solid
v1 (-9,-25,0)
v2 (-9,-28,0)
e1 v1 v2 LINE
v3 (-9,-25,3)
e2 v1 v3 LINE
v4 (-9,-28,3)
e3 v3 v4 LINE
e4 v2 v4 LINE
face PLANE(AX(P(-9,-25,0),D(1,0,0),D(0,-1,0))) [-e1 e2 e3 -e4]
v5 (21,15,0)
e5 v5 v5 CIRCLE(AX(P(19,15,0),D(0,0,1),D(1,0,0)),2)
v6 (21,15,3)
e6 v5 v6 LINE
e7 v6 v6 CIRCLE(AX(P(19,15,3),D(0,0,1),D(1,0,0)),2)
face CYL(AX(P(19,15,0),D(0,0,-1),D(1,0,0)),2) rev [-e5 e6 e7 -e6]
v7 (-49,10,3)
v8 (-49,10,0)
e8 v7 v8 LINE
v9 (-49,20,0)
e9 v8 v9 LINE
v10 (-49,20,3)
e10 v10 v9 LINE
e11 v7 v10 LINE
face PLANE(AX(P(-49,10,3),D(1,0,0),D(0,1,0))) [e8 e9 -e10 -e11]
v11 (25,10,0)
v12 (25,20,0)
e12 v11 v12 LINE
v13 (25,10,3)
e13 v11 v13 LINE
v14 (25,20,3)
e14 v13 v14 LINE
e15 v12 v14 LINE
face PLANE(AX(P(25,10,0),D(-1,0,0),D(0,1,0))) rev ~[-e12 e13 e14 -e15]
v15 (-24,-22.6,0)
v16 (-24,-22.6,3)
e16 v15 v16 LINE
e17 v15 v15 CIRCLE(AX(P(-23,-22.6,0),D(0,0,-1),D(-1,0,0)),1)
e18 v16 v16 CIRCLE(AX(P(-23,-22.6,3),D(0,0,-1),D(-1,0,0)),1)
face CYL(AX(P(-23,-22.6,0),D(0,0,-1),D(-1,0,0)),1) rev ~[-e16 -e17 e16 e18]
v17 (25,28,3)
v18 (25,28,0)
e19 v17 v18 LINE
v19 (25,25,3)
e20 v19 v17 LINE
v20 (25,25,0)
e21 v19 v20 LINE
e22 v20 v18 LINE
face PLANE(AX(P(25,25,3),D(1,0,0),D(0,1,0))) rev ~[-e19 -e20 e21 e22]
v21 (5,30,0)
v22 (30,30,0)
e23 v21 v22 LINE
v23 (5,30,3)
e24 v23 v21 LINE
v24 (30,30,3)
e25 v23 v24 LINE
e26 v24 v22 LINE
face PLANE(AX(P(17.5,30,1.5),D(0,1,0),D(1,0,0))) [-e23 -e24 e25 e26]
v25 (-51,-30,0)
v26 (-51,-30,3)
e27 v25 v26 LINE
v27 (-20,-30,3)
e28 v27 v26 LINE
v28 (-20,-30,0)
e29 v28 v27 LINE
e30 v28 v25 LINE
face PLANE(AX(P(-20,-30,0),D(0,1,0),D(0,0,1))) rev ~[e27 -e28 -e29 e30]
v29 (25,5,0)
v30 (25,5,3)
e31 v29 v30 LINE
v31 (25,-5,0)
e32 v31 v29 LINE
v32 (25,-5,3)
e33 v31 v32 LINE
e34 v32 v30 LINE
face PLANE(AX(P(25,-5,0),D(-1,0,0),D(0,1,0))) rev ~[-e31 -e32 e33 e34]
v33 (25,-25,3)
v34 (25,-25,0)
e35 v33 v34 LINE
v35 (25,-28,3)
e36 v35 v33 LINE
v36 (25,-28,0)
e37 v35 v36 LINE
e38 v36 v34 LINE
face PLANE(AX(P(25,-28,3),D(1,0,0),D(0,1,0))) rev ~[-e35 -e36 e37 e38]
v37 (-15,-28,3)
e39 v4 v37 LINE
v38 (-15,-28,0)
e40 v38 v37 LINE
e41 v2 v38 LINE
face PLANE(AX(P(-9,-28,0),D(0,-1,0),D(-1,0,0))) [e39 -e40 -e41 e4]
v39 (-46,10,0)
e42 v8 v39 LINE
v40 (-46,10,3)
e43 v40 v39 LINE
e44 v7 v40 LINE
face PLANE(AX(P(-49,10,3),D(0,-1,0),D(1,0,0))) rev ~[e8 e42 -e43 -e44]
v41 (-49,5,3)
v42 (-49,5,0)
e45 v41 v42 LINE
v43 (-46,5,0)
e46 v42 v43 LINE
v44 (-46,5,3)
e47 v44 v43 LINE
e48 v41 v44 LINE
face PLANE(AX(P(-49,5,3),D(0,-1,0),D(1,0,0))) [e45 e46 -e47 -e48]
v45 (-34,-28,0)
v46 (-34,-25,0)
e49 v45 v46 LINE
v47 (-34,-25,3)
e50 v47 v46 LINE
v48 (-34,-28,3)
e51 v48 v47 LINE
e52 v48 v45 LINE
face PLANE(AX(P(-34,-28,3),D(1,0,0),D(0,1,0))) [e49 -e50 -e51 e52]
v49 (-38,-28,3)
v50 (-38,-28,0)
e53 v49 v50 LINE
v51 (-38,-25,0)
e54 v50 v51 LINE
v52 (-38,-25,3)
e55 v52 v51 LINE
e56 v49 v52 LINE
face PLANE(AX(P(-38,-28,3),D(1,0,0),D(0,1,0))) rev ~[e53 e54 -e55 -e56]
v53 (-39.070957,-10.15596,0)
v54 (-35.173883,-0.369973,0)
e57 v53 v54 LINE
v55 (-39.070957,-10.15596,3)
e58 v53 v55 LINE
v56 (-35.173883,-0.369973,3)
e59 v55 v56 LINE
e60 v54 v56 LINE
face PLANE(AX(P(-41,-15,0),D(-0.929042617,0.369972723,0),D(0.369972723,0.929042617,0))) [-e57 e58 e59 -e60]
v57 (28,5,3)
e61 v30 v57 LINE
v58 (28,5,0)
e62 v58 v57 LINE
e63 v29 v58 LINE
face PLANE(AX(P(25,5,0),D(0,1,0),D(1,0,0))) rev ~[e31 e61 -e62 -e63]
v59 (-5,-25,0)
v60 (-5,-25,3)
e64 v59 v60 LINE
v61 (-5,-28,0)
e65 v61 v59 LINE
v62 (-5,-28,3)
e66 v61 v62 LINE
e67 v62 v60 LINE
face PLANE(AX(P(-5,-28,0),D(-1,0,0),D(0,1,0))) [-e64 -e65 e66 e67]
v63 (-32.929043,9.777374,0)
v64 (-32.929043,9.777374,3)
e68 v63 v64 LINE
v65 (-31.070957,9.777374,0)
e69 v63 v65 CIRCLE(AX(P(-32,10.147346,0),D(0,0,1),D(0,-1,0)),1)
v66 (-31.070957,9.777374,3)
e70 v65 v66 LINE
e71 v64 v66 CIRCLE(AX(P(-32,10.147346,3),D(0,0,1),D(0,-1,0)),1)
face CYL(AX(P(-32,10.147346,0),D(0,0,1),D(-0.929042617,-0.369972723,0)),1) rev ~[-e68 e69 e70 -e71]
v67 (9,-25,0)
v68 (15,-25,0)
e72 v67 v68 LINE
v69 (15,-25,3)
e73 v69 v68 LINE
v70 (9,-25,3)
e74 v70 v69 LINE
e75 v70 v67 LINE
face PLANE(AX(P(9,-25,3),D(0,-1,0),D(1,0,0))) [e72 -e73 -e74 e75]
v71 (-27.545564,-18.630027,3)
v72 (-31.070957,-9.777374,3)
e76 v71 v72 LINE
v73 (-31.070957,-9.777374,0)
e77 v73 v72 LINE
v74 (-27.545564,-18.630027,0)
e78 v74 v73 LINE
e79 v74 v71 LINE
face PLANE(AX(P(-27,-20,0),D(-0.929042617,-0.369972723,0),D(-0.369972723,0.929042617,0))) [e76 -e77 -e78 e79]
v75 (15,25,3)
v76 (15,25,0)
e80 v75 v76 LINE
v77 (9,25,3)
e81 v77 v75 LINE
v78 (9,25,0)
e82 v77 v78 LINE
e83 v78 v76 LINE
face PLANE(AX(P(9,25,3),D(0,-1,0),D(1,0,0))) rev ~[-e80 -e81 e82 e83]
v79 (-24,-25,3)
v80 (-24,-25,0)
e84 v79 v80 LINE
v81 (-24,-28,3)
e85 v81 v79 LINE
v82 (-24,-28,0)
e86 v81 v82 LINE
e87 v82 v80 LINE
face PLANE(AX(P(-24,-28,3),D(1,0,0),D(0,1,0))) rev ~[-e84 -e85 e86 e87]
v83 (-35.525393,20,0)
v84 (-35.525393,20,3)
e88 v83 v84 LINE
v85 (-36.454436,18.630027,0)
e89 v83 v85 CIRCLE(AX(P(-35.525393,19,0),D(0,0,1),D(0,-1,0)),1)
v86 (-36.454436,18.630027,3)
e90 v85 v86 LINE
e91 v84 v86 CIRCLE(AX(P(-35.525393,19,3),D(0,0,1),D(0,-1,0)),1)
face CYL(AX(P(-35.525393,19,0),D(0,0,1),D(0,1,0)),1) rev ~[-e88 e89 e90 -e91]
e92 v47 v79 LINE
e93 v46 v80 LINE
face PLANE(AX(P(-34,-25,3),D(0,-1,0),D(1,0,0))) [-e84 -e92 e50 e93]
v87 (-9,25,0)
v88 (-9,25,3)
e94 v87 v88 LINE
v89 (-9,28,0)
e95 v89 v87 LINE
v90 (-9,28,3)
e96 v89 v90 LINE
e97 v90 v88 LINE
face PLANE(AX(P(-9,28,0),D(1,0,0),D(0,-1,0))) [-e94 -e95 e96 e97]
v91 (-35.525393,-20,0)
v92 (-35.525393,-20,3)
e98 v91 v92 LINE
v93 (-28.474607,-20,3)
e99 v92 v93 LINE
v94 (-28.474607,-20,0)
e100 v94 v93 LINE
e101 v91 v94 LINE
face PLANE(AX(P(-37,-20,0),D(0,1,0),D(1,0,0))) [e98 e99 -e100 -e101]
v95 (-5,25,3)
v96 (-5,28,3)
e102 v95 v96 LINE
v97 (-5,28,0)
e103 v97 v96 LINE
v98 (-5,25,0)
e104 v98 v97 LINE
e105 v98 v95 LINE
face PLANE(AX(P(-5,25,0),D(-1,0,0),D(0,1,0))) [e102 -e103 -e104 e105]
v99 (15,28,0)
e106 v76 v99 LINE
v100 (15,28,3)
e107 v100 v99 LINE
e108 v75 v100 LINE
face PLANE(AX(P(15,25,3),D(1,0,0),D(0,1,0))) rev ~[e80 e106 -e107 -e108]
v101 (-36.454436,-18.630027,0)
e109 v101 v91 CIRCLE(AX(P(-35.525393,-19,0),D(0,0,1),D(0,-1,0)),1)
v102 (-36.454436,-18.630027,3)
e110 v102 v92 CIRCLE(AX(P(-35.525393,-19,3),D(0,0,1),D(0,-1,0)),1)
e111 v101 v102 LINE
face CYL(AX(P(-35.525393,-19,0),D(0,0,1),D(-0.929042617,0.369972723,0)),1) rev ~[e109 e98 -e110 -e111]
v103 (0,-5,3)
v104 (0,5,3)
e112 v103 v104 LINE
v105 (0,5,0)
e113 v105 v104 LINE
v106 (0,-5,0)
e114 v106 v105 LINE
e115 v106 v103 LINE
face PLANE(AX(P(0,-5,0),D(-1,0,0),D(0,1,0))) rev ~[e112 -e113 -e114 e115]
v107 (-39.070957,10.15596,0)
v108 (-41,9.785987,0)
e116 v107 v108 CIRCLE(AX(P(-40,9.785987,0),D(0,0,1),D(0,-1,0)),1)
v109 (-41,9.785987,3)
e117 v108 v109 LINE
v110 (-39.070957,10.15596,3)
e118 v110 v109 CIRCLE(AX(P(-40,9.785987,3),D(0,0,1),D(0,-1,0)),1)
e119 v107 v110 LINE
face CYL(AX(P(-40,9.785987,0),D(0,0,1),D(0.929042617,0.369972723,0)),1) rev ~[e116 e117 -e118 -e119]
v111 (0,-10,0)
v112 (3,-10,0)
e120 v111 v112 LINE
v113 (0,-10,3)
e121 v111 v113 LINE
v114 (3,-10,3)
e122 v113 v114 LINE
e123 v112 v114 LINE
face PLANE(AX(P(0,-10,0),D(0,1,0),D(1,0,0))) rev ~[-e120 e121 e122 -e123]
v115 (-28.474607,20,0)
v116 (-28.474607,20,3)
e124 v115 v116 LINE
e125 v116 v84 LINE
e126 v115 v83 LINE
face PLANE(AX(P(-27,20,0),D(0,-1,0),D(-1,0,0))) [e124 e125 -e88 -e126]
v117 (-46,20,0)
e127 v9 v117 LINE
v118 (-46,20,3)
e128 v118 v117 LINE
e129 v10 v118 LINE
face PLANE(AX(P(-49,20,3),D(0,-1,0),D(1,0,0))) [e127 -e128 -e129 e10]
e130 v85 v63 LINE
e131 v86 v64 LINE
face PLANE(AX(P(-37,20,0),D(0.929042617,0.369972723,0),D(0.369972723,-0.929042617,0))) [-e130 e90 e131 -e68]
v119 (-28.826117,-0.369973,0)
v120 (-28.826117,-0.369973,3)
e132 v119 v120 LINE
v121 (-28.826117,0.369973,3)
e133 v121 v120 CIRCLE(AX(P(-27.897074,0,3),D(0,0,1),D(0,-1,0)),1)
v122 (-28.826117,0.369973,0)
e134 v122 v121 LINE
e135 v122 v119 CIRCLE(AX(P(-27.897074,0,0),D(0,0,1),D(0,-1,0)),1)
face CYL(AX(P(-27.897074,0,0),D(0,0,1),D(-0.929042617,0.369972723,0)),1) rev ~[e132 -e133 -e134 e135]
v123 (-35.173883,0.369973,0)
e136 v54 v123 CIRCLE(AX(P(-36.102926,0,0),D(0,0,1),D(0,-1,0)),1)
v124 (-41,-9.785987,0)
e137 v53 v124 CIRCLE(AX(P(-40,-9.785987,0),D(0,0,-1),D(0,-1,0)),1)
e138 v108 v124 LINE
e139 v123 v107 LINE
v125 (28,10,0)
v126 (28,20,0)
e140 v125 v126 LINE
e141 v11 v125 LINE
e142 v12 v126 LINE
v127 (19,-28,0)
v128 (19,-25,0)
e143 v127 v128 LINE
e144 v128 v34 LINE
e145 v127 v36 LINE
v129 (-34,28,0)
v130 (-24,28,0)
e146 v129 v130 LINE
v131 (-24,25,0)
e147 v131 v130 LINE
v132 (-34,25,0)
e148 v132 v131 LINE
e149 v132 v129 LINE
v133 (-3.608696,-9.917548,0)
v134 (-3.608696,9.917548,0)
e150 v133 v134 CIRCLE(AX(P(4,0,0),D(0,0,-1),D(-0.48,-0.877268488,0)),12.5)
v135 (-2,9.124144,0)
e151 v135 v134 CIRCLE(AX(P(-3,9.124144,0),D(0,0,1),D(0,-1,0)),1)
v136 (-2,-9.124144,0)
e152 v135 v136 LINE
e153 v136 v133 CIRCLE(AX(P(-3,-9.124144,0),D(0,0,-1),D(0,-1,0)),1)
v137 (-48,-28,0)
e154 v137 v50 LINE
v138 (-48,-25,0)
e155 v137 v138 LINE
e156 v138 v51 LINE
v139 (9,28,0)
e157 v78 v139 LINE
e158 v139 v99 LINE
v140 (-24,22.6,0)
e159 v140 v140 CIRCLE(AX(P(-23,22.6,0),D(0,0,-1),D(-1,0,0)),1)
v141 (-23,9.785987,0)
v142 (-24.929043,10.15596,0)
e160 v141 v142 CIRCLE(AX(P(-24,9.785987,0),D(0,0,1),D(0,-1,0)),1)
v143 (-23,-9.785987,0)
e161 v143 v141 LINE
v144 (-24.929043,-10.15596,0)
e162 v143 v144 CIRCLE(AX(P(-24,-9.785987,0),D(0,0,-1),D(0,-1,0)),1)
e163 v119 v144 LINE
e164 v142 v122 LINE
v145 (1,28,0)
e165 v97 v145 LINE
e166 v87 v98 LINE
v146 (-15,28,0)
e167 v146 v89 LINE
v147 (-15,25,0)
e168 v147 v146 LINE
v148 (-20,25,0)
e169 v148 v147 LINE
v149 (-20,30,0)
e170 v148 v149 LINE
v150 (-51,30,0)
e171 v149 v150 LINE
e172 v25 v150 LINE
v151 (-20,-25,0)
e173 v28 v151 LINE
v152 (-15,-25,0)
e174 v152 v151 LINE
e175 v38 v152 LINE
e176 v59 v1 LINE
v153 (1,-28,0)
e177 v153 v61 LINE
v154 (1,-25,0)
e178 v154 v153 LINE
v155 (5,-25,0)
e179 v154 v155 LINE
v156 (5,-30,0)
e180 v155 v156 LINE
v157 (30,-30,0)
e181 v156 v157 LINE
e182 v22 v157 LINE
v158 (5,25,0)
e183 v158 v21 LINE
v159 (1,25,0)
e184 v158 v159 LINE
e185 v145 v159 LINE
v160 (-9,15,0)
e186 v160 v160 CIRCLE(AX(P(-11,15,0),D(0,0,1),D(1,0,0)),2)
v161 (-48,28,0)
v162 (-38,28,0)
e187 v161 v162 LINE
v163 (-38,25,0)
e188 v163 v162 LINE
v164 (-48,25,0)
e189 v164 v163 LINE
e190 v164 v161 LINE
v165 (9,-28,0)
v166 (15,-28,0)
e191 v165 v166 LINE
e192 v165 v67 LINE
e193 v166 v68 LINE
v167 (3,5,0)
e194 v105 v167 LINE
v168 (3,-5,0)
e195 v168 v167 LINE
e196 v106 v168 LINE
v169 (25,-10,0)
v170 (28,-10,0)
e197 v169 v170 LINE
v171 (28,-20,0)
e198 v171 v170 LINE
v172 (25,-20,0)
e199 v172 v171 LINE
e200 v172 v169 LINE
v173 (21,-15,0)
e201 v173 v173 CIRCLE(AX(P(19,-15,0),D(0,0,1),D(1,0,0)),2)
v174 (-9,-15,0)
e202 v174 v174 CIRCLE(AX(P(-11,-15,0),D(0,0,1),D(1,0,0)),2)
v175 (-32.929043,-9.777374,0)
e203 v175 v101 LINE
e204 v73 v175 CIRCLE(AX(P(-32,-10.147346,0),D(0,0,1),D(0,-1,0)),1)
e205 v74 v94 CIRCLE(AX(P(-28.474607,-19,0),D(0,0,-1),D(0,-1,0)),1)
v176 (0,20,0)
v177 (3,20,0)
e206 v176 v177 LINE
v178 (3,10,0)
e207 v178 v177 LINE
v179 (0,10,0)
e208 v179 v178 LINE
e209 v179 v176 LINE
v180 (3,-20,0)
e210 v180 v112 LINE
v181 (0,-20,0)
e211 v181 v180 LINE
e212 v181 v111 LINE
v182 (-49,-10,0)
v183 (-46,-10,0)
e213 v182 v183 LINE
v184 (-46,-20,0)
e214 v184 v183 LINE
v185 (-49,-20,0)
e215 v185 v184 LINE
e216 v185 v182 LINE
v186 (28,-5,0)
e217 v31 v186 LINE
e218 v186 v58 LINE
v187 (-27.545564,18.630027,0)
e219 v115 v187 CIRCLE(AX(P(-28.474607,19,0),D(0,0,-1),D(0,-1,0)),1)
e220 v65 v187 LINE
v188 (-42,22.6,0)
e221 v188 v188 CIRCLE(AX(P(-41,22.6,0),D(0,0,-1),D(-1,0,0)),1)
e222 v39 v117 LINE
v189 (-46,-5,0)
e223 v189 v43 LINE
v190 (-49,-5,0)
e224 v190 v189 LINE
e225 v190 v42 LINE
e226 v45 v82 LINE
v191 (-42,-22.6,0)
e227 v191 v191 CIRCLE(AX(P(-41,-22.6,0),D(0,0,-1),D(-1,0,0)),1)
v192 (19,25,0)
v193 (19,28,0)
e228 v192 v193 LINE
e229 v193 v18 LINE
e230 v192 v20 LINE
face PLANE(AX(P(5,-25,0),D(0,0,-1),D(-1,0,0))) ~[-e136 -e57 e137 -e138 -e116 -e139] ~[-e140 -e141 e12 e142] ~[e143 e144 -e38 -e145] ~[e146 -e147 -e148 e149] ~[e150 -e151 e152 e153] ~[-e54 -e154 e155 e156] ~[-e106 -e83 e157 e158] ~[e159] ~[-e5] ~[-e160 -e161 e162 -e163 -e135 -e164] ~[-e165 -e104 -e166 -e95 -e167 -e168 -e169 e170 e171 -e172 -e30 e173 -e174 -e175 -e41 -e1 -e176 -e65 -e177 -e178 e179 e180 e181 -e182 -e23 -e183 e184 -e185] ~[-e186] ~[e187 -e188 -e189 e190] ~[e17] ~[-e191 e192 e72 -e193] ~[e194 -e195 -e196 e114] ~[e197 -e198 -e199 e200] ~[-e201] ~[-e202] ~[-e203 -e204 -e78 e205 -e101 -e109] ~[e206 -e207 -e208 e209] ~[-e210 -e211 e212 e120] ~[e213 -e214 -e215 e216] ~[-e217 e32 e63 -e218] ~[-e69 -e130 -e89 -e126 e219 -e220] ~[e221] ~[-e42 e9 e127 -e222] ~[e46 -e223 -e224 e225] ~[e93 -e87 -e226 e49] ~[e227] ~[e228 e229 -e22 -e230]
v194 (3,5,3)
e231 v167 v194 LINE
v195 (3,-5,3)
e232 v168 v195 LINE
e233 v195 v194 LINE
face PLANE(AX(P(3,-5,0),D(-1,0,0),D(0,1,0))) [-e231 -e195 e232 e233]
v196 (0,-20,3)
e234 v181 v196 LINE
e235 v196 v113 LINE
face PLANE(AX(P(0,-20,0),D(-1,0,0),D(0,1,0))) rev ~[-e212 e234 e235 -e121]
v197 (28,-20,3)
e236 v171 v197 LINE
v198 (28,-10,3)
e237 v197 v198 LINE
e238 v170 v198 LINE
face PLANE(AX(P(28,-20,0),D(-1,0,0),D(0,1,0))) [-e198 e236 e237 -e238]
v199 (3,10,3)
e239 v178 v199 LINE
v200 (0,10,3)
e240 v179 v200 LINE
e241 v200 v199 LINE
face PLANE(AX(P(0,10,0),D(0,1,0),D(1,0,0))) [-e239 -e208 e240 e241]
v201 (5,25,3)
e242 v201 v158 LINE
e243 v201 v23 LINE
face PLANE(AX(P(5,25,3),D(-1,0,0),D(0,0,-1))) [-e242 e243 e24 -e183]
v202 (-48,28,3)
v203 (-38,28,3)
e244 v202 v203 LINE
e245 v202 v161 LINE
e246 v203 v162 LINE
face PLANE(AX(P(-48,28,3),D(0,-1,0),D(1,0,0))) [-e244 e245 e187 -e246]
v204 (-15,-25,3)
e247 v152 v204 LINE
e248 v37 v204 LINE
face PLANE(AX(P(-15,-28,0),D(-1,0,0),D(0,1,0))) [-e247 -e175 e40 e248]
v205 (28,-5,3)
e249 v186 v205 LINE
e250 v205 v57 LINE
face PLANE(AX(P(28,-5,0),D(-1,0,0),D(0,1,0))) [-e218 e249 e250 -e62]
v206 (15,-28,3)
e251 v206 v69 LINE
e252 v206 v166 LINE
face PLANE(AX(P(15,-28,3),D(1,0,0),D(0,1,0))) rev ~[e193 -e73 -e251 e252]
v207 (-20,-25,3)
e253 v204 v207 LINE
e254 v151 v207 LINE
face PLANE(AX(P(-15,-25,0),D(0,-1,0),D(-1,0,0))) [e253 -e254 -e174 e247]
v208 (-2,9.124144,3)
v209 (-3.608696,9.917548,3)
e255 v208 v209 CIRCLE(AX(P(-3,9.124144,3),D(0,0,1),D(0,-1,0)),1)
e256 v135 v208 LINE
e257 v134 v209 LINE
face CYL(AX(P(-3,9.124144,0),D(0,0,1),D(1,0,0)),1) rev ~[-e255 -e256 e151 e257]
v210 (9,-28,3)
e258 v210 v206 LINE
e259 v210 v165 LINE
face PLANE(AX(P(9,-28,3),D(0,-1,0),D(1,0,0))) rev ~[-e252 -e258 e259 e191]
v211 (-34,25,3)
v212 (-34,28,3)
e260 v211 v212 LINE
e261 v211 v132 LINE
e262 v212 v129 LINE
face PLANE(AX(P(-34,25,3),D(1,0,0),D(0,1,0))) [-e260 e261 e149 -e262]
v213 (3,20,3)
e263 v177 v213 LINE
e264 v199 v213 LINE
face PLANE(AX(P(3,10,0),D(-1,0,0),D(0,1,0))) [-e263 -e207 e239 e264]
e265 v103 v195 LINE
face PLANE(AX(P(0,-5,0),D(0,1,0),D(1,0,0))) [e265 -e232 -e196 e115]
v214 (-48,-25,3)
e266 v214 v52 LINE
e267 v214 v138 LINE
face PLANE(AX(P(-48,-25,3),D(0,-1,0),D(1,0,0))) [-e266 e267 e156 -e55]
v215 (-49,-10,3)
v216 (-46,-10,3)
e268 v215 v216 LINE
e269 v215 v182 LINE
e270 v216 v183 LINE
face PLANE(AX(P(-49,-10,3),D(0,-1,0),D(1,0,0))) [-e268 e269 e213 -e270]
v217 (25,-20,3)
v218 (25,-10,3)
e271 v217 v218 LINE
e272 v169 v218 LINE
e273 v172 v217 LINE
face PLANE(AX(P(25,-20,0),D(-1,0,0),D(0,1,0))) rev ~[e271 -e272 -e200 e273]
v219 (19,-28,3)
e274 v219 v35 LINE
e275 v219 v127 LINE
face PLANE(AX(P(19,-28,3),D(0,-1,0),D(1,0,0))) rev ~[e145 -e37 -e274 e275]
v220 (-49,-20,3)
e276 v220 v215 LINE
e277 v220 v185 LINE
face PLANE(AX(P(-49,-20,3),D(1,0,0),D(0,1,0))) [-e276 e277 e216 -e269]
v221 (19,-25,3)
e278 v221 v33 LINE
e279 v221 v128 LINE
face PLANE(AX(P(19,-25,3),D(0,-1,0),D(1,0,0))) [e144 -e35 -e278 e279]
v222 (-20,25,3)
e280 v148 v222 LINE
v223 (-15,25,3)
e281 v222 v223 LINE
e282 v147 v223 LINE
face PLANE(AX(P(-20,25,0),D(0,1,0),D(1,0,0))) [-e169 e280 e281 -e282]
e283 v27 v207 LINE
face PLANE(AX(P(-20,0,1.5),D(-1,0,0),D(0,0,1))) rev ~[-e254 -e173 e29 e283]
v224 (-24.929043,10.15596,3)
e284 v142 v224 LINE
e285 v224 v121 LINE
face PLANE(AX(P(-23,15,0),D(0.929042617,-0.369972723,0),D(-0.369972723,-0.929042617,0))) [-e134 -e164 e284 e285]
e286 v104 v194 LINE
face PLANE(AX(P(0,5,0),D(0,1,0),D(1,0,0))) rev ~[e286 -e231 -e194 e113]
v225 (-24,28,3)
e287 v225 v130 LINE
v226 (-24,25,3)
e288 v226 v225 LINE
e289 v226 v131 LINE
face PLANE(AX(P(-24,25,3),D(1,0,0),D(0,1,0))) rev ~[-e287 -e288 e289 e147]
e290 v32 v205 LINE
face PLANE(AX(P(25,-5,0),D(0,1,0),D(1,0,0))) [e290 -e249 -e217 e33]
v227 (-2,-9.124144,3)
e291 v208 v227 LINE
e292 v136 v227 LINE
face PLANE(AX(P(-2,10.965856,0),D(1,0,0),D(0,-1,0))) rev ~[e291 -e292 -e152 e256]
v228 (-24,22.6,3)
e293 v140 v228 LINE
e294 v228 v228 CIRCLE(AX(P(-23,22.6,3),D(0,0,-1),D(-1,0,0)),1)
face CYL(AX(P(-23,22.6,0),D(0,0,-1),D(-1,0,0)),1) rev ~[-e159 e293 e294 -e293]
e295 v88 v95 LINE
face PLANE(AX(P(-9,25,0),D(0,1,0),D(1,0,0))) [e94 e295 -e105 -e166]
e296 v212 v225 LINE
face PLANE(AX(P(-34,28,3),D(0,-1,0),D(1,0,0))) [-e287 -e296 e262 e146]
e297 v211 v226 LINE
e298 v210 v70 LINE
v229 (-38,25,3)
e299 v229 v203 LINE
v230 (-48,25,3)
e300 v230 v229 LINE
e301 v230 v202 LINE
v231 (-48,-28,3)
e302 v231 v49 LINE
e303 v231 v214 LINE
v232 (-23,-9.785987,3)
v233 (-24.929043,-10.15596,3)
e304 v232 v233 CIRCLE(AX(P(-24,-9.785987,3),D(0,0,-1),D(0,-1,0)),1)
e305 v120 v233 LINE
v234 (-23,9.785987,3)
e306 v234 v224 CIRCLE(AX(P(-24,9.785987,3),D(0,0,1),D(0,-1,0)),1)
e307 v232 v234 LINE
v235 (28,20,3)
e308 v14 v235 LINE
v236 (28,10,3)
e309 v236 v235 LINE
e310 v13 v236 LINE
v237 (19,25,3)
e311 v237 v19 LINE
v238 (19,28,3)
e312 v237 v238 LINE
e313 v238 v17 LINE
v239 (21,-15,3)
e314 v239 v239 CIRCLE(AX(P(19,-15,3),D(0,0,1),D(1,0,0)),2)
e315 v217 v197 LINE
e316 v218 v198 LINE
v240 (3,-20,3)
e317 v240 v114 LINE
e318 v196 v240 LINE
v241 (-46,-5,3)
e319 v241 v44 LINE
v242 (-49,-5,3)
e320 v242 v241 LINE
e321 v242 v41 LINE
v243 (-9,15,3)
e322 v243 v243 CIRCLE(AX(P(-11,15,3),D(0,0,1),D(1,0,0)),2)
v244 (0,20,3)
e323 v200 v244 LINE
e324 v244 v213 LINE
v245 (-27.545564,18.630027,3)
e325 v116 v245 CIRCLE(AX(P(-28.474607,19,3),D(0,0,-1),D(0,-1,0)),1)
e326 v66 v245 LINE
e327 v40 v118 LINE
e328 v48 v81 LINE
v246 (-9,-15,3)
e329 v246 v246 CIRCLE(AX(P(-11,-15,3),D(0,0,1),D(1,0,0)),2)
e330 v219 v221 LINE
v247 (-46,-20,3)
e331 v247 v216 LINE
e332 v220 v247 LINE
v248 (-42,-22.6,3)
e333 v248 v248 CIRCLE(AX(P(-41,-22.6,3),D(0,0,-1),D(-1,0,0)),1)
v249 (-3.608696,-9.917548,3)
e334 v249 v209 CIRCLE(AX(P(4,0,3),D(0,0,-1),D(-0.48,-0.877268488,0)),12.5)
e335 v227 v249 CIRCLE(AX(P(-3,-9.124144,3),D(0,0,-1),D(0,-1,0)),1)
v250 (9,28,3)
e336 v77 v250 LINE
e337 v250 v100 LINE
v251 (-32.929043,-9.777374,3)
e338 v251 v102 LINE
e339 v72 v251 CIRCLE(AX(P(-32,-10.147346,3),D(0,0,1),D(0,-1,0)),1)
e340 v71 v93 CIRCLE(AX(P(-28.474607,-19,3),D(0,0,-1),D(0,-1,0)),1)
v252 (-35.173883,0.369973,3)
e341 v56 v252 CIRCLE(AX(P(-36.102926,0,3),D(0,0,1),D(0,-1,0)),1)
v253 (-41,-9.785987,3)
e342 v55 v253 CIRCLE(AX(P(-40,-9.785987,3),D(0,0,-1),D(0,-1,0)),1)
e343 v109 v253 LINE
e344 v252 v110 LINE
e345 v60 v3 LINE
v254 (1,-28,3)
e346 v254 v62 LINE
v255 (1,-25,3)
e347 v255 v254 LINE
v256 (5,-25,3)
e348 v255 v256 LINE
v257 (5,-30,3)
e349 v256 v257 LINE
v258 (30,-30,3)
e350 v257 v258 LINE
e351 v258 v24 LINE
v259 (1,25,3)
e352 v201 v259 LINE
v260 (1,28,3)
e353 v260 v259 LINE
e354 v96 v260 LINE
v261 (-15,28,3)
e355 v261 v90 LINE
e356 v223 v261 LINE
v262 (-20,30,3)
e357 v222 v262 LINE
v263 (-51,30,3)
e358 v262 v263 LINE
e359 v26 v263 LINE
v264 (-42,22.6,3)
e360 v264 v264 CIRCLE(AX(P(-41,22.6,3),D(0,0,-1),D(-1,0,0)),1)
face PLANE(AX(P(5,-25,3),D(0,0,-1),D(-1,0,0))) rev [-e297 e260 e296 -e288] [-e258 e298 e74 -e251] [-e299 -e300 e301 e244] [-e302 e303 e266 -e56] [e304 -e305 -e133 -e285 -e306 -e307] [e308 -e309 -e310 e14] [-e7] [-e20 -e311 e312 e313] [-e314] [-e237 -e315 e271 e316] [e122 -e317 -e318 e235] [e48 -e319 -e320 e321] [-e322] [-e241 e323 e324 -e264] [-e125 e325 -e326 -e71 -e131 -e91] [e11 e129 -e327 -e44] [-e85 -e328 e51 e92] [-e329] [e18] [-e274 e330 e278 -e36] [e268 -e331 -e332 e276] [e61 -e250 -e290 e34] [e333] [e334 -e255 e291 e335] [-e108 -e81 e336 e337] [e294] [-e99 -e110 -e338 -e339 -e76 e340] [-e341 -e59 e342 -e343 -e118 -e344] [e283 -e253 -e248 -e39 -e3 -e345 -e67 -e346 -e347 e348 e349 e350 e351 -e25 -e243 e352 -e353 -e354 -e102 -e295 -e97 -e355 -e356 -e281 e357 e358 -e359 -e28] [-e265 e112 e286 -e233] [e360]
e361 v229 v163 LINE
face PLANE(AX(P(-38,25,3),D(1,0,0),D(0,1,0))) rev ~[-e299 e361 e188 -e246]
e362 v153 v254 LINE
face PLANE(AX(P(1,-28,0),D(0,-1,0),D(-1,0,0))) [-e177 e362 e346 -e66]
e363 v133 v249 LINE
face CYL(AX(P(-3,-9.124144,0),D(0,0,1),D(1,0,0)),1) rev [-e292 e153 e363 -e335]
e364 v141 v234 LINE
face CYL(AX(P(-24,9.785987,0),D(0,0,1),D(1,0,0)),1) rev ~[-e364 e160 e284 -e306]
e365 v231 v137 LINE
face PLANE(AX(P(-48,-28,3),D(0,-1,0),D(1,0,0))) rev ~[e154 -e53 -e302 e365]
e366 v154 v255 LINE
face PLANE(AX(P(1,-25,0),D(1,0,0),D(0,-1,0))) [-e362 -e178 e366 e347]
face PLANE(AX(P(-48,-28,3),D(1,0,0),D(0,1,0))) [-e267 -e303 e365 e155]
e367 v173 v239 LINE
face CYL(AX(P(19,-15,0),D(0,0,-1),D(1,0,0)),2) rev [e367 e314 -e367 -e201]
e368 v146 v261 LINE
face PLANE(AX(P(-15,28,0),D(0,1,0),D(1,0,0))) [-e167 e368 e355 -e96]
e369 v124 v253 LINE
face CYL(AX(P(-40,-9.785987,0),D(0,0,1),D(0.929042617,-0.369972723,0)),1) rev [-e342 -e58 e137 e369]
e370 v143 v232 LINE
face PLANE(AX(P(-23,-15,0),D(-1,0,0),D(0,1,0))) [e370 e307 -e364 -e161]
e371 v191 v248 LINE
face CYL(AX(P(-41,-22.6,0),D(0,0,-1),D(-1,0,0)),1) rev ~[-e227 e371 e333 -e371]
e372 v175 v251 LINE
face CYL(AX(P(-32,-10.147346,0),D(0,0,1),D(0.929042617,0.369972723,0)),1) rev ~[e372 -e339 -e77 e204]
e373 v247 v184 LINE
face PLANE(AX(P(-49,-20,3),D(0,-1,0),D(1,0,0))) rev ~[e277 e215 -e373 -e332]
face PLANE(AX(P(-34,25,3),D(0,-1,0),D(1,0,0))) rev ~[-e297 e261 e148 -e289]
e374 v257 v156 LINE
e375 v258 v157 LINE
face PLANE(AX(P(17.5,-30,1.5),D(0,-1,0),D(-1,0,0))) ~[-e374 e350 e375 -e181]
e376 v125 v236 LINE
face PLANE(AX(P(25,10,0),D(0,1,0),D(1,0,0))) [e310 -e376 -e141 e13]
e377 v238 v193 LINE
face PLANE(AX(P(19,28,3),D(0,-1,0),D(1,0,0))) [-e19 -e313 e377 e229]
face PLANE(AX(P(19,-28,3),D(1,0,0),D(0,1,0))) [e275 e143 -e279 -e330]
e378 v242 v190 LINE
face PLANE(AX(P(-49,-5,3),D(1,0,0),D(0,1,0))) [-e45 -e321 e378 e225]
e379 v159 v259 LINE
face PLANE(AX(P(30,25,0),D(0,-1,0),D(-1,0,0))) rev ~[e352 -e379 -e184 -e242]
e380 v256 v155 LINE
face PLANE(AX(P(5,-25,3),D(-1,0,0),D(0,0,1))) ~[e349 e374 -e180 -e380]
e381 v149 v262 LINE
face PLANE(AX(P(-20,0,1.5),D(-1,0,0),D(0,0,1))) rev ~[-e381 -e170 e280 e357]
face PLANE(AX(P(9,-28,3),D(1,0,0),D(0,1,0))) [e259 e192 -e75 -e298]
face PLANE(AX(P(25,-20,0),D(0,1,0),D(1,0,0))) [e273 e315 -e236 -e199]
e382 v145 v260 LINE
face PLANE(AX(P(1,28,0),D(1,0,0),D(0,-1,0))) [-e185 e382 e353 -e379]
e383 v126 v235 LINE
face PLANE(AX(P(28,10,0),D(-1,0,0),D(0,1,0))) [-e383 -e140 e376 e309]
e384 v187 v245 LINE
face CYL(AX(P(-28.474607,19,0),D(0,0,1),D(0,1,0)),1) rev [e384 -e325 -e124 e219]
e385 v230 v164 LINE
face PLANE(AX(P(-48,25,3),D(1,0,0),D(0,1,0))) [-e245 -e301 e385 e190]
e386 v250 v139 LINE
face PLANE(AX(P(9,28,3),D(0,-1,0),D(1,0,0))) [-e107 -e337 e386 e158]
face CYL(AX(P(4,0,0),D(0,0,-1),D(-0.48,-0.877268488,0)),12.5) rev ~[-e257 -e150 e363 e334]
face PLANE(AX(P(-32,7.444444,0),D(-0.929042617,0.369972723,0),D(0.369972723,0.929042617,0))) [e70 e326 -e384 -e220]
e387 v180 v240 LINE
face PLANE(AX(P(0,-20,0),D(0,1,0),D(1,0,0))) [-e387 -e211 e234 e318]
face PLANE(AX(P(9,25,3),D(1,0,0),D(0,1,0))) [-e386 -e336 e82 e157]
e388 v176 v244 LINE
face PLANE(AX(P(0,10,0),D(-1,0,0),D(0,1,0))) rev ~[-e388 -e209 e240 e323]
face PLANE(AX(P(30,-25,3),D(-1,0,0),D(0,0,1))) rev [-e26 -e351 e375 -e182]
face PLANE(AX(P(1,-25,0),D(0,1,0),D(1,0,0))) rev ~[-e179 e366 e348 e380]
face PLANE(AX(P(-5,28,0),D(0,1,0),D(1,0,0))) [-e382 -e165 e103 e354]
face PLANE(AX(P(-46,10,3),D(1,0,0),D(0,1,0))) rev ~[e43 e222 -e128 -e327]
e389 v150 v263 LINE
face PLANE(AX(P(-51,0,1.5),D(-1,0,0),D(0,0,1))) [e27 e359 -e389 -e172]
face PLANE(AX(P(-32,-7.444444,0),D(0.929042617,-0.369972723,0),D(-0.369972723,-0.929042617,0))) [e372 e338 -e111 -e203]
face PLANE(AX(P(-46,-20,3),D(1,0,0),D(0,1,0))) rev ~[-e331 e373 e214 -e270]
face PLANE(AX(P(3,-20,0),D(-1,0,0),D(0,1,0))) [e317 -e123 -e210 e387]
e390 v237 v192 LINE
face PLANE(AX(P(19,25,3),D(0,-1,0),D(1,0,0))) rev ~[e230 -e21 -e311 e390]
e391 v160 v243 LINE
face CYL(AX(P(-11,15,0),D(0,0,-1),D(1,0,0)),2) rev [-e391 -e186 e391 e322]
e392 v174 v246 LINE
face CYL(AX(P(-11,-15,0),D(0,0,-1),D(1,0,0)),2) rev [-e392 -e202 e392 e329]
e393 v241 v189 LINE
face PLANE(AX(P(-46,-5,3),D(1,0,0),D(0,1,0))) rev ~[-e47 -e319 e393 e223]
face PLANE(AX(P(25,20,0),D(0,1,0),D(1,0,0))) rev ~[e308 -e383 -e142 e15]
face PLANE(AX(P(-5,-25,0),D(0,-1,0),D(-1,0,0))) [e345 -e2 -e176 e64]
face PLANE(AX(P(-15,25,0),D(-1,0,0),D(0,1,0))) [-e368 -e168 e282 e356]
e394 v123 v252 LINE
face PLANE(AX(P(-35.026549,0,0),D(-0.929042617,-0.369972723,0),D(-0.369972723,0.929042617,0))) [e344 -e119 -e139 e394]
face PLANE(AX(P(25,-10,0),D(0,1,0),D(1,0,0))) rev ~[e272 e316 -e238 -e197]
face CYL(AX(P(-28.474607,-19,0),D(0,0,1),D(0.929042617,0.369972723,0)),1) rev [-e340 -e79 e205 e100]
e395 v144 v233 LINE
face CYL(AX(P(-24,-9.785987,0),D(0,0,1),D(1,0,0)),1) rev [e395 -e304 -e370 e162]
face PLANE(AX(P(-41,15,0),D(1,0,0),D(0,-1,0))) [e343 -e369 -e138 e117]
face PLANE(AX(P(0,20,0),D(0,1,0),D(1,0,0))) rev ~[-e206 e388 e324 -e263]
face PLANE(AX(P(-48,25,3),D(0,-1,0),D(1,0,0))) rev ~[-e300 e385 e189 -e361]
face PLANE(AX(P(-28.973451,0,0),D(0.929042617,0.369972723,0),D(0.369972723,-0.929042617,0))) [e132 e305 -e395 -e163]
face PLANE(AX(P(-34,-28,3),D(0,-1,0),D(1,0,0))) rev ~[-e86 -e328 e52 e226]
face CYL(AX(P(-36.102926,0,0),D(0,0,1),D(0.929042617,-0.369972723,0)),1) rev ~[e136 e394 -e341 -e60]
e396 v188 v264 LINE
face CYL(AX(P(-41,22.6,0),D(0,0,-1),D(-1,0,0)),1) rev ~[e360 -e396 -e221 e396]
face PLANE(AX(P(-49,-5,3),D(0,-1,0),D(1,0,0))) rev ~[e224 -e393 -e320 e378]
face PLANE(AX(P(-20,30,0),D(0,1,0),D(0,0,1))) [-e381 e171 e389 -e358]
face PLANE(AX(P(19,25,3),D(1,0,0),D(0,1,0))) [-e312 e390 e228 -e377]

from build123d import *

# Parameters (mm, degrees)
SKETCH_1_R          = 2
SKETCH_1_W          = 3
SKETCH_1_H          = 10
EXTRUDE_1_DEPTH     = 3
SKETCH_2_W          = 3
SKETCH_2_H          = 60
EXTRUDE_2_DEPTH     = 31
SKETCH_3_W          = 25
SKETCH_3_H          = 3
EXTRUDE_3_DEPTH     = 5
SKETCH_4_W          = 10
SKETCH_4_H          = 3
SKETCH_4_W_2        = 6
SKETCH_4_W_3        = 3
SKETCH_4_H_2        = 10
CUT_EXTRUDE_1_DEPTH = 3
SKETCH_5_R          = 1
CUT_EXTRUDE_2_DEPTH = 3
FILLET_1_R          = 1


with BuildPart() as part:
    # 草图1 → 凸台-拉伸1 (new body)
    with BuildSketch(Plane.XY):
        Polygon((-5, 25), (-5, 28), (1, 28), (1, 25), (5, 25), (10, 25), (20, 25), (25, 25), (30, 25), (30, -25), (25, -25), (20, -25), (10, -25), (5, -25), (1, -25), (1, -28), (-5, -28), (-5, -25), (-9, -25), (-9, -28), (-15, -28), (-15, -25), (-20, -25), (-20, 25), (-15, 25), (-15, 28), (-9, 28), (-9, 25), align=None)
        with Locations((-11, 15)):
            Circle(SKETCH_1_R, mode=Mode.SUBTRACT)
        with Locations((-11, -15)):
            Circle(SKETCH_1_R, mode=Mode.SUBTRACT)
        with Locations((19, -15)):
            Circle(SKETCH_1_R, mode=Mode.SUBTRACT)
        with Locations((19, 15)):
            Circle(SKETCH_1_R, mode=Mode.SUBTRACT)
        with Locations((26.5, 15)):
            Rectangle(SKETCH_1_W, SKETCH_1_H, mode=Mode.SUBTRACT)
        with Locations((26.5, 0)):
            Rectangle(SKETCH_1_W, SKETCH_1_H, mode=Mode.SUBTRACT)
        with Locations((26.5, -15)):
            Rectangle(SKETCH_1_W, SKETCH_1_H, mode=Mode.SUBTRACT)
        with Locations((1.5, 0)):
            Rectangle(SKETCH_1_W, SKETCH_1_H, mode=Mode.SUBTRACT)
        with Locations((1.5, -15)):
            Rectangle(SKETCH_1_W, SKETCH_1_H, mode=Mode.SUBTRACT)
        with Locations((1.5, 15)):
            Rectangle(SKETCH_1_W, SKETCH_1_H, mode=Mode.SUBTRACT)
    extrude(amount=EXTRUDE_1_DEPTH)

    # 草图2 → 凸台-拉伸2 (add)
    with BuildSketch(Plane.ZY.offset(20)):
        with Locations((1.5, 0)):
            Rectangle(SKETCH_2_W, SKETCH_2_H)
    extrude(amount=EXTRUDE_2_DEPTH)

    # 草图3 → 凸台-拉伸3 (add)
    with BuildSketch(Plane(origin=(0, 25, 0), x_dir=(1, 0, 0), z_dir=(0, 1, 0))):
        with Locations((17.5, -1.5)):
            Rectangle(SKETCH_3_W, SKETCH_3_H)
    extrude_3 = extrude(amount=EXTRUDE_3_DEPTH)

    # 镜向1: 凸台-拉伸3 across plane
    add(extrude_3.mirror(Plane.ZX))

    # 草图4 → 切除-拉伸1 (cut)
    with BuildSketch(Plane.XY.offset(3)):
        with Locations((-43, 26.5)):
            Rectangle(SKETCH_4_W, SKETCH_4_H)
        with Locations((-29, 26.5)):
            Rectangle(SKETCH_4_W, SKETCH_4_H)
        with Locations((12, 26.5)):
            Rectangle(SKETCH_4_W_2, SKETCH_4_H)
        with Locations((22, 26.5)):
            Rectangle(SKETCH_4_W_2, SKETCH_4_H)
        with Locations((22, -26.5)):
            Rectangle(SKETCH_4_W_2, SKETCH_4_H)
        with Locations((12, -26.5)):
            Rectangle(SKETCH_4_W_2, SKETCH_4_H)
        with Locations((-29, -26.5)):
            Rectangle(SKETCH_4_W, SKETCH_4_H)
        with Locations((-43, -26.5)):
            Rectangle(SKETCH_4_W, SKETCH_4_H)
        with Locations((-47.5, 0)):
            Rectangle(SKETCH_4_W_3, SKETCH_4_H_2)
        with Locations((-47.5, 15)):
            Rectangle(SKETCH_4_W_3, SKETCH_4_H_2)
        with Locations((-47.5, -15)):
            Rectangle(SKETCH_4_W_3, SKETCH_4_H_2)
    extrude(amount=-CUT_EXTRUDE_1_DEPTH, mode=Mode.SUBTRACT)

    # 草图5 → 切除-拉伸2 (cut)
    with BuildSketch(Plane(origin=(0, 0, 0), x_dir=(-1, 0, 0), z_dir=(0, 0, -1))):
        with Locations((23, 22.6)):
            Circle(SKETCH_5_R)
        with Locations((41, 22.6)):
            Circle(SKETCH_5_R)
        with Locations((41, -22.6)):
            Circle(SKETCH_5_R)
        with Locations((23, -22.6)):
            Circle(SKETCH_5_R)
        with BuildLine():
            Line((2, 7.351919832), (2, -7.055869369))
            Line((2, -7.055869369), (2, -10.9658561))
            ThreePointArc((2, -10.9658561), (8.5, 0), (2, 10.9658561))
            Line((2, 10.9658561), (2, 7.351919832))
        make_face()
        Polygon((23, -15), (23, 15), (28.973451327, 0), align=None)
        Polygon((27, -20), (32, -7.444444444), (37, -20), align=None)
        Polygon((41, -15), (35.026548673, 0), (41, 15), align=None)
        Polygon((27, 20), (37, 20), (32, 7.444444444), align=None)
    extrude(amount=-CUT_EXTRUDE_2_DEPTH, mode=Mode.SUBTRACT)

    # 圆角1
    fillet_1_edges = [part.edges().sort_by_distance(p)[0] for p in [
        (-2, 10.9658561, 1.5),
        (-2, -10.9658561, 1.5),
        (-23, 15, 1.5),
        (-28.973451327, 0, 1.5),
        (-23, -15, 1.5),
        (-37, 20, 1.5),
        (-32, 7.444444444, 1.5),
        (-27, 20, 1.5),
        (-41, 15, 1.5),
        (-41, -15, 1.5),
        (-35.026548673, 0, 1.5),
        (-37, -20, 1.5),
        (-27, -20, 1.5),
        (-32, -7.444444444, 1.5),
    ]]
    fillet(fillet_1_edges, radius=FILLET_1_R)


solid = part.part
